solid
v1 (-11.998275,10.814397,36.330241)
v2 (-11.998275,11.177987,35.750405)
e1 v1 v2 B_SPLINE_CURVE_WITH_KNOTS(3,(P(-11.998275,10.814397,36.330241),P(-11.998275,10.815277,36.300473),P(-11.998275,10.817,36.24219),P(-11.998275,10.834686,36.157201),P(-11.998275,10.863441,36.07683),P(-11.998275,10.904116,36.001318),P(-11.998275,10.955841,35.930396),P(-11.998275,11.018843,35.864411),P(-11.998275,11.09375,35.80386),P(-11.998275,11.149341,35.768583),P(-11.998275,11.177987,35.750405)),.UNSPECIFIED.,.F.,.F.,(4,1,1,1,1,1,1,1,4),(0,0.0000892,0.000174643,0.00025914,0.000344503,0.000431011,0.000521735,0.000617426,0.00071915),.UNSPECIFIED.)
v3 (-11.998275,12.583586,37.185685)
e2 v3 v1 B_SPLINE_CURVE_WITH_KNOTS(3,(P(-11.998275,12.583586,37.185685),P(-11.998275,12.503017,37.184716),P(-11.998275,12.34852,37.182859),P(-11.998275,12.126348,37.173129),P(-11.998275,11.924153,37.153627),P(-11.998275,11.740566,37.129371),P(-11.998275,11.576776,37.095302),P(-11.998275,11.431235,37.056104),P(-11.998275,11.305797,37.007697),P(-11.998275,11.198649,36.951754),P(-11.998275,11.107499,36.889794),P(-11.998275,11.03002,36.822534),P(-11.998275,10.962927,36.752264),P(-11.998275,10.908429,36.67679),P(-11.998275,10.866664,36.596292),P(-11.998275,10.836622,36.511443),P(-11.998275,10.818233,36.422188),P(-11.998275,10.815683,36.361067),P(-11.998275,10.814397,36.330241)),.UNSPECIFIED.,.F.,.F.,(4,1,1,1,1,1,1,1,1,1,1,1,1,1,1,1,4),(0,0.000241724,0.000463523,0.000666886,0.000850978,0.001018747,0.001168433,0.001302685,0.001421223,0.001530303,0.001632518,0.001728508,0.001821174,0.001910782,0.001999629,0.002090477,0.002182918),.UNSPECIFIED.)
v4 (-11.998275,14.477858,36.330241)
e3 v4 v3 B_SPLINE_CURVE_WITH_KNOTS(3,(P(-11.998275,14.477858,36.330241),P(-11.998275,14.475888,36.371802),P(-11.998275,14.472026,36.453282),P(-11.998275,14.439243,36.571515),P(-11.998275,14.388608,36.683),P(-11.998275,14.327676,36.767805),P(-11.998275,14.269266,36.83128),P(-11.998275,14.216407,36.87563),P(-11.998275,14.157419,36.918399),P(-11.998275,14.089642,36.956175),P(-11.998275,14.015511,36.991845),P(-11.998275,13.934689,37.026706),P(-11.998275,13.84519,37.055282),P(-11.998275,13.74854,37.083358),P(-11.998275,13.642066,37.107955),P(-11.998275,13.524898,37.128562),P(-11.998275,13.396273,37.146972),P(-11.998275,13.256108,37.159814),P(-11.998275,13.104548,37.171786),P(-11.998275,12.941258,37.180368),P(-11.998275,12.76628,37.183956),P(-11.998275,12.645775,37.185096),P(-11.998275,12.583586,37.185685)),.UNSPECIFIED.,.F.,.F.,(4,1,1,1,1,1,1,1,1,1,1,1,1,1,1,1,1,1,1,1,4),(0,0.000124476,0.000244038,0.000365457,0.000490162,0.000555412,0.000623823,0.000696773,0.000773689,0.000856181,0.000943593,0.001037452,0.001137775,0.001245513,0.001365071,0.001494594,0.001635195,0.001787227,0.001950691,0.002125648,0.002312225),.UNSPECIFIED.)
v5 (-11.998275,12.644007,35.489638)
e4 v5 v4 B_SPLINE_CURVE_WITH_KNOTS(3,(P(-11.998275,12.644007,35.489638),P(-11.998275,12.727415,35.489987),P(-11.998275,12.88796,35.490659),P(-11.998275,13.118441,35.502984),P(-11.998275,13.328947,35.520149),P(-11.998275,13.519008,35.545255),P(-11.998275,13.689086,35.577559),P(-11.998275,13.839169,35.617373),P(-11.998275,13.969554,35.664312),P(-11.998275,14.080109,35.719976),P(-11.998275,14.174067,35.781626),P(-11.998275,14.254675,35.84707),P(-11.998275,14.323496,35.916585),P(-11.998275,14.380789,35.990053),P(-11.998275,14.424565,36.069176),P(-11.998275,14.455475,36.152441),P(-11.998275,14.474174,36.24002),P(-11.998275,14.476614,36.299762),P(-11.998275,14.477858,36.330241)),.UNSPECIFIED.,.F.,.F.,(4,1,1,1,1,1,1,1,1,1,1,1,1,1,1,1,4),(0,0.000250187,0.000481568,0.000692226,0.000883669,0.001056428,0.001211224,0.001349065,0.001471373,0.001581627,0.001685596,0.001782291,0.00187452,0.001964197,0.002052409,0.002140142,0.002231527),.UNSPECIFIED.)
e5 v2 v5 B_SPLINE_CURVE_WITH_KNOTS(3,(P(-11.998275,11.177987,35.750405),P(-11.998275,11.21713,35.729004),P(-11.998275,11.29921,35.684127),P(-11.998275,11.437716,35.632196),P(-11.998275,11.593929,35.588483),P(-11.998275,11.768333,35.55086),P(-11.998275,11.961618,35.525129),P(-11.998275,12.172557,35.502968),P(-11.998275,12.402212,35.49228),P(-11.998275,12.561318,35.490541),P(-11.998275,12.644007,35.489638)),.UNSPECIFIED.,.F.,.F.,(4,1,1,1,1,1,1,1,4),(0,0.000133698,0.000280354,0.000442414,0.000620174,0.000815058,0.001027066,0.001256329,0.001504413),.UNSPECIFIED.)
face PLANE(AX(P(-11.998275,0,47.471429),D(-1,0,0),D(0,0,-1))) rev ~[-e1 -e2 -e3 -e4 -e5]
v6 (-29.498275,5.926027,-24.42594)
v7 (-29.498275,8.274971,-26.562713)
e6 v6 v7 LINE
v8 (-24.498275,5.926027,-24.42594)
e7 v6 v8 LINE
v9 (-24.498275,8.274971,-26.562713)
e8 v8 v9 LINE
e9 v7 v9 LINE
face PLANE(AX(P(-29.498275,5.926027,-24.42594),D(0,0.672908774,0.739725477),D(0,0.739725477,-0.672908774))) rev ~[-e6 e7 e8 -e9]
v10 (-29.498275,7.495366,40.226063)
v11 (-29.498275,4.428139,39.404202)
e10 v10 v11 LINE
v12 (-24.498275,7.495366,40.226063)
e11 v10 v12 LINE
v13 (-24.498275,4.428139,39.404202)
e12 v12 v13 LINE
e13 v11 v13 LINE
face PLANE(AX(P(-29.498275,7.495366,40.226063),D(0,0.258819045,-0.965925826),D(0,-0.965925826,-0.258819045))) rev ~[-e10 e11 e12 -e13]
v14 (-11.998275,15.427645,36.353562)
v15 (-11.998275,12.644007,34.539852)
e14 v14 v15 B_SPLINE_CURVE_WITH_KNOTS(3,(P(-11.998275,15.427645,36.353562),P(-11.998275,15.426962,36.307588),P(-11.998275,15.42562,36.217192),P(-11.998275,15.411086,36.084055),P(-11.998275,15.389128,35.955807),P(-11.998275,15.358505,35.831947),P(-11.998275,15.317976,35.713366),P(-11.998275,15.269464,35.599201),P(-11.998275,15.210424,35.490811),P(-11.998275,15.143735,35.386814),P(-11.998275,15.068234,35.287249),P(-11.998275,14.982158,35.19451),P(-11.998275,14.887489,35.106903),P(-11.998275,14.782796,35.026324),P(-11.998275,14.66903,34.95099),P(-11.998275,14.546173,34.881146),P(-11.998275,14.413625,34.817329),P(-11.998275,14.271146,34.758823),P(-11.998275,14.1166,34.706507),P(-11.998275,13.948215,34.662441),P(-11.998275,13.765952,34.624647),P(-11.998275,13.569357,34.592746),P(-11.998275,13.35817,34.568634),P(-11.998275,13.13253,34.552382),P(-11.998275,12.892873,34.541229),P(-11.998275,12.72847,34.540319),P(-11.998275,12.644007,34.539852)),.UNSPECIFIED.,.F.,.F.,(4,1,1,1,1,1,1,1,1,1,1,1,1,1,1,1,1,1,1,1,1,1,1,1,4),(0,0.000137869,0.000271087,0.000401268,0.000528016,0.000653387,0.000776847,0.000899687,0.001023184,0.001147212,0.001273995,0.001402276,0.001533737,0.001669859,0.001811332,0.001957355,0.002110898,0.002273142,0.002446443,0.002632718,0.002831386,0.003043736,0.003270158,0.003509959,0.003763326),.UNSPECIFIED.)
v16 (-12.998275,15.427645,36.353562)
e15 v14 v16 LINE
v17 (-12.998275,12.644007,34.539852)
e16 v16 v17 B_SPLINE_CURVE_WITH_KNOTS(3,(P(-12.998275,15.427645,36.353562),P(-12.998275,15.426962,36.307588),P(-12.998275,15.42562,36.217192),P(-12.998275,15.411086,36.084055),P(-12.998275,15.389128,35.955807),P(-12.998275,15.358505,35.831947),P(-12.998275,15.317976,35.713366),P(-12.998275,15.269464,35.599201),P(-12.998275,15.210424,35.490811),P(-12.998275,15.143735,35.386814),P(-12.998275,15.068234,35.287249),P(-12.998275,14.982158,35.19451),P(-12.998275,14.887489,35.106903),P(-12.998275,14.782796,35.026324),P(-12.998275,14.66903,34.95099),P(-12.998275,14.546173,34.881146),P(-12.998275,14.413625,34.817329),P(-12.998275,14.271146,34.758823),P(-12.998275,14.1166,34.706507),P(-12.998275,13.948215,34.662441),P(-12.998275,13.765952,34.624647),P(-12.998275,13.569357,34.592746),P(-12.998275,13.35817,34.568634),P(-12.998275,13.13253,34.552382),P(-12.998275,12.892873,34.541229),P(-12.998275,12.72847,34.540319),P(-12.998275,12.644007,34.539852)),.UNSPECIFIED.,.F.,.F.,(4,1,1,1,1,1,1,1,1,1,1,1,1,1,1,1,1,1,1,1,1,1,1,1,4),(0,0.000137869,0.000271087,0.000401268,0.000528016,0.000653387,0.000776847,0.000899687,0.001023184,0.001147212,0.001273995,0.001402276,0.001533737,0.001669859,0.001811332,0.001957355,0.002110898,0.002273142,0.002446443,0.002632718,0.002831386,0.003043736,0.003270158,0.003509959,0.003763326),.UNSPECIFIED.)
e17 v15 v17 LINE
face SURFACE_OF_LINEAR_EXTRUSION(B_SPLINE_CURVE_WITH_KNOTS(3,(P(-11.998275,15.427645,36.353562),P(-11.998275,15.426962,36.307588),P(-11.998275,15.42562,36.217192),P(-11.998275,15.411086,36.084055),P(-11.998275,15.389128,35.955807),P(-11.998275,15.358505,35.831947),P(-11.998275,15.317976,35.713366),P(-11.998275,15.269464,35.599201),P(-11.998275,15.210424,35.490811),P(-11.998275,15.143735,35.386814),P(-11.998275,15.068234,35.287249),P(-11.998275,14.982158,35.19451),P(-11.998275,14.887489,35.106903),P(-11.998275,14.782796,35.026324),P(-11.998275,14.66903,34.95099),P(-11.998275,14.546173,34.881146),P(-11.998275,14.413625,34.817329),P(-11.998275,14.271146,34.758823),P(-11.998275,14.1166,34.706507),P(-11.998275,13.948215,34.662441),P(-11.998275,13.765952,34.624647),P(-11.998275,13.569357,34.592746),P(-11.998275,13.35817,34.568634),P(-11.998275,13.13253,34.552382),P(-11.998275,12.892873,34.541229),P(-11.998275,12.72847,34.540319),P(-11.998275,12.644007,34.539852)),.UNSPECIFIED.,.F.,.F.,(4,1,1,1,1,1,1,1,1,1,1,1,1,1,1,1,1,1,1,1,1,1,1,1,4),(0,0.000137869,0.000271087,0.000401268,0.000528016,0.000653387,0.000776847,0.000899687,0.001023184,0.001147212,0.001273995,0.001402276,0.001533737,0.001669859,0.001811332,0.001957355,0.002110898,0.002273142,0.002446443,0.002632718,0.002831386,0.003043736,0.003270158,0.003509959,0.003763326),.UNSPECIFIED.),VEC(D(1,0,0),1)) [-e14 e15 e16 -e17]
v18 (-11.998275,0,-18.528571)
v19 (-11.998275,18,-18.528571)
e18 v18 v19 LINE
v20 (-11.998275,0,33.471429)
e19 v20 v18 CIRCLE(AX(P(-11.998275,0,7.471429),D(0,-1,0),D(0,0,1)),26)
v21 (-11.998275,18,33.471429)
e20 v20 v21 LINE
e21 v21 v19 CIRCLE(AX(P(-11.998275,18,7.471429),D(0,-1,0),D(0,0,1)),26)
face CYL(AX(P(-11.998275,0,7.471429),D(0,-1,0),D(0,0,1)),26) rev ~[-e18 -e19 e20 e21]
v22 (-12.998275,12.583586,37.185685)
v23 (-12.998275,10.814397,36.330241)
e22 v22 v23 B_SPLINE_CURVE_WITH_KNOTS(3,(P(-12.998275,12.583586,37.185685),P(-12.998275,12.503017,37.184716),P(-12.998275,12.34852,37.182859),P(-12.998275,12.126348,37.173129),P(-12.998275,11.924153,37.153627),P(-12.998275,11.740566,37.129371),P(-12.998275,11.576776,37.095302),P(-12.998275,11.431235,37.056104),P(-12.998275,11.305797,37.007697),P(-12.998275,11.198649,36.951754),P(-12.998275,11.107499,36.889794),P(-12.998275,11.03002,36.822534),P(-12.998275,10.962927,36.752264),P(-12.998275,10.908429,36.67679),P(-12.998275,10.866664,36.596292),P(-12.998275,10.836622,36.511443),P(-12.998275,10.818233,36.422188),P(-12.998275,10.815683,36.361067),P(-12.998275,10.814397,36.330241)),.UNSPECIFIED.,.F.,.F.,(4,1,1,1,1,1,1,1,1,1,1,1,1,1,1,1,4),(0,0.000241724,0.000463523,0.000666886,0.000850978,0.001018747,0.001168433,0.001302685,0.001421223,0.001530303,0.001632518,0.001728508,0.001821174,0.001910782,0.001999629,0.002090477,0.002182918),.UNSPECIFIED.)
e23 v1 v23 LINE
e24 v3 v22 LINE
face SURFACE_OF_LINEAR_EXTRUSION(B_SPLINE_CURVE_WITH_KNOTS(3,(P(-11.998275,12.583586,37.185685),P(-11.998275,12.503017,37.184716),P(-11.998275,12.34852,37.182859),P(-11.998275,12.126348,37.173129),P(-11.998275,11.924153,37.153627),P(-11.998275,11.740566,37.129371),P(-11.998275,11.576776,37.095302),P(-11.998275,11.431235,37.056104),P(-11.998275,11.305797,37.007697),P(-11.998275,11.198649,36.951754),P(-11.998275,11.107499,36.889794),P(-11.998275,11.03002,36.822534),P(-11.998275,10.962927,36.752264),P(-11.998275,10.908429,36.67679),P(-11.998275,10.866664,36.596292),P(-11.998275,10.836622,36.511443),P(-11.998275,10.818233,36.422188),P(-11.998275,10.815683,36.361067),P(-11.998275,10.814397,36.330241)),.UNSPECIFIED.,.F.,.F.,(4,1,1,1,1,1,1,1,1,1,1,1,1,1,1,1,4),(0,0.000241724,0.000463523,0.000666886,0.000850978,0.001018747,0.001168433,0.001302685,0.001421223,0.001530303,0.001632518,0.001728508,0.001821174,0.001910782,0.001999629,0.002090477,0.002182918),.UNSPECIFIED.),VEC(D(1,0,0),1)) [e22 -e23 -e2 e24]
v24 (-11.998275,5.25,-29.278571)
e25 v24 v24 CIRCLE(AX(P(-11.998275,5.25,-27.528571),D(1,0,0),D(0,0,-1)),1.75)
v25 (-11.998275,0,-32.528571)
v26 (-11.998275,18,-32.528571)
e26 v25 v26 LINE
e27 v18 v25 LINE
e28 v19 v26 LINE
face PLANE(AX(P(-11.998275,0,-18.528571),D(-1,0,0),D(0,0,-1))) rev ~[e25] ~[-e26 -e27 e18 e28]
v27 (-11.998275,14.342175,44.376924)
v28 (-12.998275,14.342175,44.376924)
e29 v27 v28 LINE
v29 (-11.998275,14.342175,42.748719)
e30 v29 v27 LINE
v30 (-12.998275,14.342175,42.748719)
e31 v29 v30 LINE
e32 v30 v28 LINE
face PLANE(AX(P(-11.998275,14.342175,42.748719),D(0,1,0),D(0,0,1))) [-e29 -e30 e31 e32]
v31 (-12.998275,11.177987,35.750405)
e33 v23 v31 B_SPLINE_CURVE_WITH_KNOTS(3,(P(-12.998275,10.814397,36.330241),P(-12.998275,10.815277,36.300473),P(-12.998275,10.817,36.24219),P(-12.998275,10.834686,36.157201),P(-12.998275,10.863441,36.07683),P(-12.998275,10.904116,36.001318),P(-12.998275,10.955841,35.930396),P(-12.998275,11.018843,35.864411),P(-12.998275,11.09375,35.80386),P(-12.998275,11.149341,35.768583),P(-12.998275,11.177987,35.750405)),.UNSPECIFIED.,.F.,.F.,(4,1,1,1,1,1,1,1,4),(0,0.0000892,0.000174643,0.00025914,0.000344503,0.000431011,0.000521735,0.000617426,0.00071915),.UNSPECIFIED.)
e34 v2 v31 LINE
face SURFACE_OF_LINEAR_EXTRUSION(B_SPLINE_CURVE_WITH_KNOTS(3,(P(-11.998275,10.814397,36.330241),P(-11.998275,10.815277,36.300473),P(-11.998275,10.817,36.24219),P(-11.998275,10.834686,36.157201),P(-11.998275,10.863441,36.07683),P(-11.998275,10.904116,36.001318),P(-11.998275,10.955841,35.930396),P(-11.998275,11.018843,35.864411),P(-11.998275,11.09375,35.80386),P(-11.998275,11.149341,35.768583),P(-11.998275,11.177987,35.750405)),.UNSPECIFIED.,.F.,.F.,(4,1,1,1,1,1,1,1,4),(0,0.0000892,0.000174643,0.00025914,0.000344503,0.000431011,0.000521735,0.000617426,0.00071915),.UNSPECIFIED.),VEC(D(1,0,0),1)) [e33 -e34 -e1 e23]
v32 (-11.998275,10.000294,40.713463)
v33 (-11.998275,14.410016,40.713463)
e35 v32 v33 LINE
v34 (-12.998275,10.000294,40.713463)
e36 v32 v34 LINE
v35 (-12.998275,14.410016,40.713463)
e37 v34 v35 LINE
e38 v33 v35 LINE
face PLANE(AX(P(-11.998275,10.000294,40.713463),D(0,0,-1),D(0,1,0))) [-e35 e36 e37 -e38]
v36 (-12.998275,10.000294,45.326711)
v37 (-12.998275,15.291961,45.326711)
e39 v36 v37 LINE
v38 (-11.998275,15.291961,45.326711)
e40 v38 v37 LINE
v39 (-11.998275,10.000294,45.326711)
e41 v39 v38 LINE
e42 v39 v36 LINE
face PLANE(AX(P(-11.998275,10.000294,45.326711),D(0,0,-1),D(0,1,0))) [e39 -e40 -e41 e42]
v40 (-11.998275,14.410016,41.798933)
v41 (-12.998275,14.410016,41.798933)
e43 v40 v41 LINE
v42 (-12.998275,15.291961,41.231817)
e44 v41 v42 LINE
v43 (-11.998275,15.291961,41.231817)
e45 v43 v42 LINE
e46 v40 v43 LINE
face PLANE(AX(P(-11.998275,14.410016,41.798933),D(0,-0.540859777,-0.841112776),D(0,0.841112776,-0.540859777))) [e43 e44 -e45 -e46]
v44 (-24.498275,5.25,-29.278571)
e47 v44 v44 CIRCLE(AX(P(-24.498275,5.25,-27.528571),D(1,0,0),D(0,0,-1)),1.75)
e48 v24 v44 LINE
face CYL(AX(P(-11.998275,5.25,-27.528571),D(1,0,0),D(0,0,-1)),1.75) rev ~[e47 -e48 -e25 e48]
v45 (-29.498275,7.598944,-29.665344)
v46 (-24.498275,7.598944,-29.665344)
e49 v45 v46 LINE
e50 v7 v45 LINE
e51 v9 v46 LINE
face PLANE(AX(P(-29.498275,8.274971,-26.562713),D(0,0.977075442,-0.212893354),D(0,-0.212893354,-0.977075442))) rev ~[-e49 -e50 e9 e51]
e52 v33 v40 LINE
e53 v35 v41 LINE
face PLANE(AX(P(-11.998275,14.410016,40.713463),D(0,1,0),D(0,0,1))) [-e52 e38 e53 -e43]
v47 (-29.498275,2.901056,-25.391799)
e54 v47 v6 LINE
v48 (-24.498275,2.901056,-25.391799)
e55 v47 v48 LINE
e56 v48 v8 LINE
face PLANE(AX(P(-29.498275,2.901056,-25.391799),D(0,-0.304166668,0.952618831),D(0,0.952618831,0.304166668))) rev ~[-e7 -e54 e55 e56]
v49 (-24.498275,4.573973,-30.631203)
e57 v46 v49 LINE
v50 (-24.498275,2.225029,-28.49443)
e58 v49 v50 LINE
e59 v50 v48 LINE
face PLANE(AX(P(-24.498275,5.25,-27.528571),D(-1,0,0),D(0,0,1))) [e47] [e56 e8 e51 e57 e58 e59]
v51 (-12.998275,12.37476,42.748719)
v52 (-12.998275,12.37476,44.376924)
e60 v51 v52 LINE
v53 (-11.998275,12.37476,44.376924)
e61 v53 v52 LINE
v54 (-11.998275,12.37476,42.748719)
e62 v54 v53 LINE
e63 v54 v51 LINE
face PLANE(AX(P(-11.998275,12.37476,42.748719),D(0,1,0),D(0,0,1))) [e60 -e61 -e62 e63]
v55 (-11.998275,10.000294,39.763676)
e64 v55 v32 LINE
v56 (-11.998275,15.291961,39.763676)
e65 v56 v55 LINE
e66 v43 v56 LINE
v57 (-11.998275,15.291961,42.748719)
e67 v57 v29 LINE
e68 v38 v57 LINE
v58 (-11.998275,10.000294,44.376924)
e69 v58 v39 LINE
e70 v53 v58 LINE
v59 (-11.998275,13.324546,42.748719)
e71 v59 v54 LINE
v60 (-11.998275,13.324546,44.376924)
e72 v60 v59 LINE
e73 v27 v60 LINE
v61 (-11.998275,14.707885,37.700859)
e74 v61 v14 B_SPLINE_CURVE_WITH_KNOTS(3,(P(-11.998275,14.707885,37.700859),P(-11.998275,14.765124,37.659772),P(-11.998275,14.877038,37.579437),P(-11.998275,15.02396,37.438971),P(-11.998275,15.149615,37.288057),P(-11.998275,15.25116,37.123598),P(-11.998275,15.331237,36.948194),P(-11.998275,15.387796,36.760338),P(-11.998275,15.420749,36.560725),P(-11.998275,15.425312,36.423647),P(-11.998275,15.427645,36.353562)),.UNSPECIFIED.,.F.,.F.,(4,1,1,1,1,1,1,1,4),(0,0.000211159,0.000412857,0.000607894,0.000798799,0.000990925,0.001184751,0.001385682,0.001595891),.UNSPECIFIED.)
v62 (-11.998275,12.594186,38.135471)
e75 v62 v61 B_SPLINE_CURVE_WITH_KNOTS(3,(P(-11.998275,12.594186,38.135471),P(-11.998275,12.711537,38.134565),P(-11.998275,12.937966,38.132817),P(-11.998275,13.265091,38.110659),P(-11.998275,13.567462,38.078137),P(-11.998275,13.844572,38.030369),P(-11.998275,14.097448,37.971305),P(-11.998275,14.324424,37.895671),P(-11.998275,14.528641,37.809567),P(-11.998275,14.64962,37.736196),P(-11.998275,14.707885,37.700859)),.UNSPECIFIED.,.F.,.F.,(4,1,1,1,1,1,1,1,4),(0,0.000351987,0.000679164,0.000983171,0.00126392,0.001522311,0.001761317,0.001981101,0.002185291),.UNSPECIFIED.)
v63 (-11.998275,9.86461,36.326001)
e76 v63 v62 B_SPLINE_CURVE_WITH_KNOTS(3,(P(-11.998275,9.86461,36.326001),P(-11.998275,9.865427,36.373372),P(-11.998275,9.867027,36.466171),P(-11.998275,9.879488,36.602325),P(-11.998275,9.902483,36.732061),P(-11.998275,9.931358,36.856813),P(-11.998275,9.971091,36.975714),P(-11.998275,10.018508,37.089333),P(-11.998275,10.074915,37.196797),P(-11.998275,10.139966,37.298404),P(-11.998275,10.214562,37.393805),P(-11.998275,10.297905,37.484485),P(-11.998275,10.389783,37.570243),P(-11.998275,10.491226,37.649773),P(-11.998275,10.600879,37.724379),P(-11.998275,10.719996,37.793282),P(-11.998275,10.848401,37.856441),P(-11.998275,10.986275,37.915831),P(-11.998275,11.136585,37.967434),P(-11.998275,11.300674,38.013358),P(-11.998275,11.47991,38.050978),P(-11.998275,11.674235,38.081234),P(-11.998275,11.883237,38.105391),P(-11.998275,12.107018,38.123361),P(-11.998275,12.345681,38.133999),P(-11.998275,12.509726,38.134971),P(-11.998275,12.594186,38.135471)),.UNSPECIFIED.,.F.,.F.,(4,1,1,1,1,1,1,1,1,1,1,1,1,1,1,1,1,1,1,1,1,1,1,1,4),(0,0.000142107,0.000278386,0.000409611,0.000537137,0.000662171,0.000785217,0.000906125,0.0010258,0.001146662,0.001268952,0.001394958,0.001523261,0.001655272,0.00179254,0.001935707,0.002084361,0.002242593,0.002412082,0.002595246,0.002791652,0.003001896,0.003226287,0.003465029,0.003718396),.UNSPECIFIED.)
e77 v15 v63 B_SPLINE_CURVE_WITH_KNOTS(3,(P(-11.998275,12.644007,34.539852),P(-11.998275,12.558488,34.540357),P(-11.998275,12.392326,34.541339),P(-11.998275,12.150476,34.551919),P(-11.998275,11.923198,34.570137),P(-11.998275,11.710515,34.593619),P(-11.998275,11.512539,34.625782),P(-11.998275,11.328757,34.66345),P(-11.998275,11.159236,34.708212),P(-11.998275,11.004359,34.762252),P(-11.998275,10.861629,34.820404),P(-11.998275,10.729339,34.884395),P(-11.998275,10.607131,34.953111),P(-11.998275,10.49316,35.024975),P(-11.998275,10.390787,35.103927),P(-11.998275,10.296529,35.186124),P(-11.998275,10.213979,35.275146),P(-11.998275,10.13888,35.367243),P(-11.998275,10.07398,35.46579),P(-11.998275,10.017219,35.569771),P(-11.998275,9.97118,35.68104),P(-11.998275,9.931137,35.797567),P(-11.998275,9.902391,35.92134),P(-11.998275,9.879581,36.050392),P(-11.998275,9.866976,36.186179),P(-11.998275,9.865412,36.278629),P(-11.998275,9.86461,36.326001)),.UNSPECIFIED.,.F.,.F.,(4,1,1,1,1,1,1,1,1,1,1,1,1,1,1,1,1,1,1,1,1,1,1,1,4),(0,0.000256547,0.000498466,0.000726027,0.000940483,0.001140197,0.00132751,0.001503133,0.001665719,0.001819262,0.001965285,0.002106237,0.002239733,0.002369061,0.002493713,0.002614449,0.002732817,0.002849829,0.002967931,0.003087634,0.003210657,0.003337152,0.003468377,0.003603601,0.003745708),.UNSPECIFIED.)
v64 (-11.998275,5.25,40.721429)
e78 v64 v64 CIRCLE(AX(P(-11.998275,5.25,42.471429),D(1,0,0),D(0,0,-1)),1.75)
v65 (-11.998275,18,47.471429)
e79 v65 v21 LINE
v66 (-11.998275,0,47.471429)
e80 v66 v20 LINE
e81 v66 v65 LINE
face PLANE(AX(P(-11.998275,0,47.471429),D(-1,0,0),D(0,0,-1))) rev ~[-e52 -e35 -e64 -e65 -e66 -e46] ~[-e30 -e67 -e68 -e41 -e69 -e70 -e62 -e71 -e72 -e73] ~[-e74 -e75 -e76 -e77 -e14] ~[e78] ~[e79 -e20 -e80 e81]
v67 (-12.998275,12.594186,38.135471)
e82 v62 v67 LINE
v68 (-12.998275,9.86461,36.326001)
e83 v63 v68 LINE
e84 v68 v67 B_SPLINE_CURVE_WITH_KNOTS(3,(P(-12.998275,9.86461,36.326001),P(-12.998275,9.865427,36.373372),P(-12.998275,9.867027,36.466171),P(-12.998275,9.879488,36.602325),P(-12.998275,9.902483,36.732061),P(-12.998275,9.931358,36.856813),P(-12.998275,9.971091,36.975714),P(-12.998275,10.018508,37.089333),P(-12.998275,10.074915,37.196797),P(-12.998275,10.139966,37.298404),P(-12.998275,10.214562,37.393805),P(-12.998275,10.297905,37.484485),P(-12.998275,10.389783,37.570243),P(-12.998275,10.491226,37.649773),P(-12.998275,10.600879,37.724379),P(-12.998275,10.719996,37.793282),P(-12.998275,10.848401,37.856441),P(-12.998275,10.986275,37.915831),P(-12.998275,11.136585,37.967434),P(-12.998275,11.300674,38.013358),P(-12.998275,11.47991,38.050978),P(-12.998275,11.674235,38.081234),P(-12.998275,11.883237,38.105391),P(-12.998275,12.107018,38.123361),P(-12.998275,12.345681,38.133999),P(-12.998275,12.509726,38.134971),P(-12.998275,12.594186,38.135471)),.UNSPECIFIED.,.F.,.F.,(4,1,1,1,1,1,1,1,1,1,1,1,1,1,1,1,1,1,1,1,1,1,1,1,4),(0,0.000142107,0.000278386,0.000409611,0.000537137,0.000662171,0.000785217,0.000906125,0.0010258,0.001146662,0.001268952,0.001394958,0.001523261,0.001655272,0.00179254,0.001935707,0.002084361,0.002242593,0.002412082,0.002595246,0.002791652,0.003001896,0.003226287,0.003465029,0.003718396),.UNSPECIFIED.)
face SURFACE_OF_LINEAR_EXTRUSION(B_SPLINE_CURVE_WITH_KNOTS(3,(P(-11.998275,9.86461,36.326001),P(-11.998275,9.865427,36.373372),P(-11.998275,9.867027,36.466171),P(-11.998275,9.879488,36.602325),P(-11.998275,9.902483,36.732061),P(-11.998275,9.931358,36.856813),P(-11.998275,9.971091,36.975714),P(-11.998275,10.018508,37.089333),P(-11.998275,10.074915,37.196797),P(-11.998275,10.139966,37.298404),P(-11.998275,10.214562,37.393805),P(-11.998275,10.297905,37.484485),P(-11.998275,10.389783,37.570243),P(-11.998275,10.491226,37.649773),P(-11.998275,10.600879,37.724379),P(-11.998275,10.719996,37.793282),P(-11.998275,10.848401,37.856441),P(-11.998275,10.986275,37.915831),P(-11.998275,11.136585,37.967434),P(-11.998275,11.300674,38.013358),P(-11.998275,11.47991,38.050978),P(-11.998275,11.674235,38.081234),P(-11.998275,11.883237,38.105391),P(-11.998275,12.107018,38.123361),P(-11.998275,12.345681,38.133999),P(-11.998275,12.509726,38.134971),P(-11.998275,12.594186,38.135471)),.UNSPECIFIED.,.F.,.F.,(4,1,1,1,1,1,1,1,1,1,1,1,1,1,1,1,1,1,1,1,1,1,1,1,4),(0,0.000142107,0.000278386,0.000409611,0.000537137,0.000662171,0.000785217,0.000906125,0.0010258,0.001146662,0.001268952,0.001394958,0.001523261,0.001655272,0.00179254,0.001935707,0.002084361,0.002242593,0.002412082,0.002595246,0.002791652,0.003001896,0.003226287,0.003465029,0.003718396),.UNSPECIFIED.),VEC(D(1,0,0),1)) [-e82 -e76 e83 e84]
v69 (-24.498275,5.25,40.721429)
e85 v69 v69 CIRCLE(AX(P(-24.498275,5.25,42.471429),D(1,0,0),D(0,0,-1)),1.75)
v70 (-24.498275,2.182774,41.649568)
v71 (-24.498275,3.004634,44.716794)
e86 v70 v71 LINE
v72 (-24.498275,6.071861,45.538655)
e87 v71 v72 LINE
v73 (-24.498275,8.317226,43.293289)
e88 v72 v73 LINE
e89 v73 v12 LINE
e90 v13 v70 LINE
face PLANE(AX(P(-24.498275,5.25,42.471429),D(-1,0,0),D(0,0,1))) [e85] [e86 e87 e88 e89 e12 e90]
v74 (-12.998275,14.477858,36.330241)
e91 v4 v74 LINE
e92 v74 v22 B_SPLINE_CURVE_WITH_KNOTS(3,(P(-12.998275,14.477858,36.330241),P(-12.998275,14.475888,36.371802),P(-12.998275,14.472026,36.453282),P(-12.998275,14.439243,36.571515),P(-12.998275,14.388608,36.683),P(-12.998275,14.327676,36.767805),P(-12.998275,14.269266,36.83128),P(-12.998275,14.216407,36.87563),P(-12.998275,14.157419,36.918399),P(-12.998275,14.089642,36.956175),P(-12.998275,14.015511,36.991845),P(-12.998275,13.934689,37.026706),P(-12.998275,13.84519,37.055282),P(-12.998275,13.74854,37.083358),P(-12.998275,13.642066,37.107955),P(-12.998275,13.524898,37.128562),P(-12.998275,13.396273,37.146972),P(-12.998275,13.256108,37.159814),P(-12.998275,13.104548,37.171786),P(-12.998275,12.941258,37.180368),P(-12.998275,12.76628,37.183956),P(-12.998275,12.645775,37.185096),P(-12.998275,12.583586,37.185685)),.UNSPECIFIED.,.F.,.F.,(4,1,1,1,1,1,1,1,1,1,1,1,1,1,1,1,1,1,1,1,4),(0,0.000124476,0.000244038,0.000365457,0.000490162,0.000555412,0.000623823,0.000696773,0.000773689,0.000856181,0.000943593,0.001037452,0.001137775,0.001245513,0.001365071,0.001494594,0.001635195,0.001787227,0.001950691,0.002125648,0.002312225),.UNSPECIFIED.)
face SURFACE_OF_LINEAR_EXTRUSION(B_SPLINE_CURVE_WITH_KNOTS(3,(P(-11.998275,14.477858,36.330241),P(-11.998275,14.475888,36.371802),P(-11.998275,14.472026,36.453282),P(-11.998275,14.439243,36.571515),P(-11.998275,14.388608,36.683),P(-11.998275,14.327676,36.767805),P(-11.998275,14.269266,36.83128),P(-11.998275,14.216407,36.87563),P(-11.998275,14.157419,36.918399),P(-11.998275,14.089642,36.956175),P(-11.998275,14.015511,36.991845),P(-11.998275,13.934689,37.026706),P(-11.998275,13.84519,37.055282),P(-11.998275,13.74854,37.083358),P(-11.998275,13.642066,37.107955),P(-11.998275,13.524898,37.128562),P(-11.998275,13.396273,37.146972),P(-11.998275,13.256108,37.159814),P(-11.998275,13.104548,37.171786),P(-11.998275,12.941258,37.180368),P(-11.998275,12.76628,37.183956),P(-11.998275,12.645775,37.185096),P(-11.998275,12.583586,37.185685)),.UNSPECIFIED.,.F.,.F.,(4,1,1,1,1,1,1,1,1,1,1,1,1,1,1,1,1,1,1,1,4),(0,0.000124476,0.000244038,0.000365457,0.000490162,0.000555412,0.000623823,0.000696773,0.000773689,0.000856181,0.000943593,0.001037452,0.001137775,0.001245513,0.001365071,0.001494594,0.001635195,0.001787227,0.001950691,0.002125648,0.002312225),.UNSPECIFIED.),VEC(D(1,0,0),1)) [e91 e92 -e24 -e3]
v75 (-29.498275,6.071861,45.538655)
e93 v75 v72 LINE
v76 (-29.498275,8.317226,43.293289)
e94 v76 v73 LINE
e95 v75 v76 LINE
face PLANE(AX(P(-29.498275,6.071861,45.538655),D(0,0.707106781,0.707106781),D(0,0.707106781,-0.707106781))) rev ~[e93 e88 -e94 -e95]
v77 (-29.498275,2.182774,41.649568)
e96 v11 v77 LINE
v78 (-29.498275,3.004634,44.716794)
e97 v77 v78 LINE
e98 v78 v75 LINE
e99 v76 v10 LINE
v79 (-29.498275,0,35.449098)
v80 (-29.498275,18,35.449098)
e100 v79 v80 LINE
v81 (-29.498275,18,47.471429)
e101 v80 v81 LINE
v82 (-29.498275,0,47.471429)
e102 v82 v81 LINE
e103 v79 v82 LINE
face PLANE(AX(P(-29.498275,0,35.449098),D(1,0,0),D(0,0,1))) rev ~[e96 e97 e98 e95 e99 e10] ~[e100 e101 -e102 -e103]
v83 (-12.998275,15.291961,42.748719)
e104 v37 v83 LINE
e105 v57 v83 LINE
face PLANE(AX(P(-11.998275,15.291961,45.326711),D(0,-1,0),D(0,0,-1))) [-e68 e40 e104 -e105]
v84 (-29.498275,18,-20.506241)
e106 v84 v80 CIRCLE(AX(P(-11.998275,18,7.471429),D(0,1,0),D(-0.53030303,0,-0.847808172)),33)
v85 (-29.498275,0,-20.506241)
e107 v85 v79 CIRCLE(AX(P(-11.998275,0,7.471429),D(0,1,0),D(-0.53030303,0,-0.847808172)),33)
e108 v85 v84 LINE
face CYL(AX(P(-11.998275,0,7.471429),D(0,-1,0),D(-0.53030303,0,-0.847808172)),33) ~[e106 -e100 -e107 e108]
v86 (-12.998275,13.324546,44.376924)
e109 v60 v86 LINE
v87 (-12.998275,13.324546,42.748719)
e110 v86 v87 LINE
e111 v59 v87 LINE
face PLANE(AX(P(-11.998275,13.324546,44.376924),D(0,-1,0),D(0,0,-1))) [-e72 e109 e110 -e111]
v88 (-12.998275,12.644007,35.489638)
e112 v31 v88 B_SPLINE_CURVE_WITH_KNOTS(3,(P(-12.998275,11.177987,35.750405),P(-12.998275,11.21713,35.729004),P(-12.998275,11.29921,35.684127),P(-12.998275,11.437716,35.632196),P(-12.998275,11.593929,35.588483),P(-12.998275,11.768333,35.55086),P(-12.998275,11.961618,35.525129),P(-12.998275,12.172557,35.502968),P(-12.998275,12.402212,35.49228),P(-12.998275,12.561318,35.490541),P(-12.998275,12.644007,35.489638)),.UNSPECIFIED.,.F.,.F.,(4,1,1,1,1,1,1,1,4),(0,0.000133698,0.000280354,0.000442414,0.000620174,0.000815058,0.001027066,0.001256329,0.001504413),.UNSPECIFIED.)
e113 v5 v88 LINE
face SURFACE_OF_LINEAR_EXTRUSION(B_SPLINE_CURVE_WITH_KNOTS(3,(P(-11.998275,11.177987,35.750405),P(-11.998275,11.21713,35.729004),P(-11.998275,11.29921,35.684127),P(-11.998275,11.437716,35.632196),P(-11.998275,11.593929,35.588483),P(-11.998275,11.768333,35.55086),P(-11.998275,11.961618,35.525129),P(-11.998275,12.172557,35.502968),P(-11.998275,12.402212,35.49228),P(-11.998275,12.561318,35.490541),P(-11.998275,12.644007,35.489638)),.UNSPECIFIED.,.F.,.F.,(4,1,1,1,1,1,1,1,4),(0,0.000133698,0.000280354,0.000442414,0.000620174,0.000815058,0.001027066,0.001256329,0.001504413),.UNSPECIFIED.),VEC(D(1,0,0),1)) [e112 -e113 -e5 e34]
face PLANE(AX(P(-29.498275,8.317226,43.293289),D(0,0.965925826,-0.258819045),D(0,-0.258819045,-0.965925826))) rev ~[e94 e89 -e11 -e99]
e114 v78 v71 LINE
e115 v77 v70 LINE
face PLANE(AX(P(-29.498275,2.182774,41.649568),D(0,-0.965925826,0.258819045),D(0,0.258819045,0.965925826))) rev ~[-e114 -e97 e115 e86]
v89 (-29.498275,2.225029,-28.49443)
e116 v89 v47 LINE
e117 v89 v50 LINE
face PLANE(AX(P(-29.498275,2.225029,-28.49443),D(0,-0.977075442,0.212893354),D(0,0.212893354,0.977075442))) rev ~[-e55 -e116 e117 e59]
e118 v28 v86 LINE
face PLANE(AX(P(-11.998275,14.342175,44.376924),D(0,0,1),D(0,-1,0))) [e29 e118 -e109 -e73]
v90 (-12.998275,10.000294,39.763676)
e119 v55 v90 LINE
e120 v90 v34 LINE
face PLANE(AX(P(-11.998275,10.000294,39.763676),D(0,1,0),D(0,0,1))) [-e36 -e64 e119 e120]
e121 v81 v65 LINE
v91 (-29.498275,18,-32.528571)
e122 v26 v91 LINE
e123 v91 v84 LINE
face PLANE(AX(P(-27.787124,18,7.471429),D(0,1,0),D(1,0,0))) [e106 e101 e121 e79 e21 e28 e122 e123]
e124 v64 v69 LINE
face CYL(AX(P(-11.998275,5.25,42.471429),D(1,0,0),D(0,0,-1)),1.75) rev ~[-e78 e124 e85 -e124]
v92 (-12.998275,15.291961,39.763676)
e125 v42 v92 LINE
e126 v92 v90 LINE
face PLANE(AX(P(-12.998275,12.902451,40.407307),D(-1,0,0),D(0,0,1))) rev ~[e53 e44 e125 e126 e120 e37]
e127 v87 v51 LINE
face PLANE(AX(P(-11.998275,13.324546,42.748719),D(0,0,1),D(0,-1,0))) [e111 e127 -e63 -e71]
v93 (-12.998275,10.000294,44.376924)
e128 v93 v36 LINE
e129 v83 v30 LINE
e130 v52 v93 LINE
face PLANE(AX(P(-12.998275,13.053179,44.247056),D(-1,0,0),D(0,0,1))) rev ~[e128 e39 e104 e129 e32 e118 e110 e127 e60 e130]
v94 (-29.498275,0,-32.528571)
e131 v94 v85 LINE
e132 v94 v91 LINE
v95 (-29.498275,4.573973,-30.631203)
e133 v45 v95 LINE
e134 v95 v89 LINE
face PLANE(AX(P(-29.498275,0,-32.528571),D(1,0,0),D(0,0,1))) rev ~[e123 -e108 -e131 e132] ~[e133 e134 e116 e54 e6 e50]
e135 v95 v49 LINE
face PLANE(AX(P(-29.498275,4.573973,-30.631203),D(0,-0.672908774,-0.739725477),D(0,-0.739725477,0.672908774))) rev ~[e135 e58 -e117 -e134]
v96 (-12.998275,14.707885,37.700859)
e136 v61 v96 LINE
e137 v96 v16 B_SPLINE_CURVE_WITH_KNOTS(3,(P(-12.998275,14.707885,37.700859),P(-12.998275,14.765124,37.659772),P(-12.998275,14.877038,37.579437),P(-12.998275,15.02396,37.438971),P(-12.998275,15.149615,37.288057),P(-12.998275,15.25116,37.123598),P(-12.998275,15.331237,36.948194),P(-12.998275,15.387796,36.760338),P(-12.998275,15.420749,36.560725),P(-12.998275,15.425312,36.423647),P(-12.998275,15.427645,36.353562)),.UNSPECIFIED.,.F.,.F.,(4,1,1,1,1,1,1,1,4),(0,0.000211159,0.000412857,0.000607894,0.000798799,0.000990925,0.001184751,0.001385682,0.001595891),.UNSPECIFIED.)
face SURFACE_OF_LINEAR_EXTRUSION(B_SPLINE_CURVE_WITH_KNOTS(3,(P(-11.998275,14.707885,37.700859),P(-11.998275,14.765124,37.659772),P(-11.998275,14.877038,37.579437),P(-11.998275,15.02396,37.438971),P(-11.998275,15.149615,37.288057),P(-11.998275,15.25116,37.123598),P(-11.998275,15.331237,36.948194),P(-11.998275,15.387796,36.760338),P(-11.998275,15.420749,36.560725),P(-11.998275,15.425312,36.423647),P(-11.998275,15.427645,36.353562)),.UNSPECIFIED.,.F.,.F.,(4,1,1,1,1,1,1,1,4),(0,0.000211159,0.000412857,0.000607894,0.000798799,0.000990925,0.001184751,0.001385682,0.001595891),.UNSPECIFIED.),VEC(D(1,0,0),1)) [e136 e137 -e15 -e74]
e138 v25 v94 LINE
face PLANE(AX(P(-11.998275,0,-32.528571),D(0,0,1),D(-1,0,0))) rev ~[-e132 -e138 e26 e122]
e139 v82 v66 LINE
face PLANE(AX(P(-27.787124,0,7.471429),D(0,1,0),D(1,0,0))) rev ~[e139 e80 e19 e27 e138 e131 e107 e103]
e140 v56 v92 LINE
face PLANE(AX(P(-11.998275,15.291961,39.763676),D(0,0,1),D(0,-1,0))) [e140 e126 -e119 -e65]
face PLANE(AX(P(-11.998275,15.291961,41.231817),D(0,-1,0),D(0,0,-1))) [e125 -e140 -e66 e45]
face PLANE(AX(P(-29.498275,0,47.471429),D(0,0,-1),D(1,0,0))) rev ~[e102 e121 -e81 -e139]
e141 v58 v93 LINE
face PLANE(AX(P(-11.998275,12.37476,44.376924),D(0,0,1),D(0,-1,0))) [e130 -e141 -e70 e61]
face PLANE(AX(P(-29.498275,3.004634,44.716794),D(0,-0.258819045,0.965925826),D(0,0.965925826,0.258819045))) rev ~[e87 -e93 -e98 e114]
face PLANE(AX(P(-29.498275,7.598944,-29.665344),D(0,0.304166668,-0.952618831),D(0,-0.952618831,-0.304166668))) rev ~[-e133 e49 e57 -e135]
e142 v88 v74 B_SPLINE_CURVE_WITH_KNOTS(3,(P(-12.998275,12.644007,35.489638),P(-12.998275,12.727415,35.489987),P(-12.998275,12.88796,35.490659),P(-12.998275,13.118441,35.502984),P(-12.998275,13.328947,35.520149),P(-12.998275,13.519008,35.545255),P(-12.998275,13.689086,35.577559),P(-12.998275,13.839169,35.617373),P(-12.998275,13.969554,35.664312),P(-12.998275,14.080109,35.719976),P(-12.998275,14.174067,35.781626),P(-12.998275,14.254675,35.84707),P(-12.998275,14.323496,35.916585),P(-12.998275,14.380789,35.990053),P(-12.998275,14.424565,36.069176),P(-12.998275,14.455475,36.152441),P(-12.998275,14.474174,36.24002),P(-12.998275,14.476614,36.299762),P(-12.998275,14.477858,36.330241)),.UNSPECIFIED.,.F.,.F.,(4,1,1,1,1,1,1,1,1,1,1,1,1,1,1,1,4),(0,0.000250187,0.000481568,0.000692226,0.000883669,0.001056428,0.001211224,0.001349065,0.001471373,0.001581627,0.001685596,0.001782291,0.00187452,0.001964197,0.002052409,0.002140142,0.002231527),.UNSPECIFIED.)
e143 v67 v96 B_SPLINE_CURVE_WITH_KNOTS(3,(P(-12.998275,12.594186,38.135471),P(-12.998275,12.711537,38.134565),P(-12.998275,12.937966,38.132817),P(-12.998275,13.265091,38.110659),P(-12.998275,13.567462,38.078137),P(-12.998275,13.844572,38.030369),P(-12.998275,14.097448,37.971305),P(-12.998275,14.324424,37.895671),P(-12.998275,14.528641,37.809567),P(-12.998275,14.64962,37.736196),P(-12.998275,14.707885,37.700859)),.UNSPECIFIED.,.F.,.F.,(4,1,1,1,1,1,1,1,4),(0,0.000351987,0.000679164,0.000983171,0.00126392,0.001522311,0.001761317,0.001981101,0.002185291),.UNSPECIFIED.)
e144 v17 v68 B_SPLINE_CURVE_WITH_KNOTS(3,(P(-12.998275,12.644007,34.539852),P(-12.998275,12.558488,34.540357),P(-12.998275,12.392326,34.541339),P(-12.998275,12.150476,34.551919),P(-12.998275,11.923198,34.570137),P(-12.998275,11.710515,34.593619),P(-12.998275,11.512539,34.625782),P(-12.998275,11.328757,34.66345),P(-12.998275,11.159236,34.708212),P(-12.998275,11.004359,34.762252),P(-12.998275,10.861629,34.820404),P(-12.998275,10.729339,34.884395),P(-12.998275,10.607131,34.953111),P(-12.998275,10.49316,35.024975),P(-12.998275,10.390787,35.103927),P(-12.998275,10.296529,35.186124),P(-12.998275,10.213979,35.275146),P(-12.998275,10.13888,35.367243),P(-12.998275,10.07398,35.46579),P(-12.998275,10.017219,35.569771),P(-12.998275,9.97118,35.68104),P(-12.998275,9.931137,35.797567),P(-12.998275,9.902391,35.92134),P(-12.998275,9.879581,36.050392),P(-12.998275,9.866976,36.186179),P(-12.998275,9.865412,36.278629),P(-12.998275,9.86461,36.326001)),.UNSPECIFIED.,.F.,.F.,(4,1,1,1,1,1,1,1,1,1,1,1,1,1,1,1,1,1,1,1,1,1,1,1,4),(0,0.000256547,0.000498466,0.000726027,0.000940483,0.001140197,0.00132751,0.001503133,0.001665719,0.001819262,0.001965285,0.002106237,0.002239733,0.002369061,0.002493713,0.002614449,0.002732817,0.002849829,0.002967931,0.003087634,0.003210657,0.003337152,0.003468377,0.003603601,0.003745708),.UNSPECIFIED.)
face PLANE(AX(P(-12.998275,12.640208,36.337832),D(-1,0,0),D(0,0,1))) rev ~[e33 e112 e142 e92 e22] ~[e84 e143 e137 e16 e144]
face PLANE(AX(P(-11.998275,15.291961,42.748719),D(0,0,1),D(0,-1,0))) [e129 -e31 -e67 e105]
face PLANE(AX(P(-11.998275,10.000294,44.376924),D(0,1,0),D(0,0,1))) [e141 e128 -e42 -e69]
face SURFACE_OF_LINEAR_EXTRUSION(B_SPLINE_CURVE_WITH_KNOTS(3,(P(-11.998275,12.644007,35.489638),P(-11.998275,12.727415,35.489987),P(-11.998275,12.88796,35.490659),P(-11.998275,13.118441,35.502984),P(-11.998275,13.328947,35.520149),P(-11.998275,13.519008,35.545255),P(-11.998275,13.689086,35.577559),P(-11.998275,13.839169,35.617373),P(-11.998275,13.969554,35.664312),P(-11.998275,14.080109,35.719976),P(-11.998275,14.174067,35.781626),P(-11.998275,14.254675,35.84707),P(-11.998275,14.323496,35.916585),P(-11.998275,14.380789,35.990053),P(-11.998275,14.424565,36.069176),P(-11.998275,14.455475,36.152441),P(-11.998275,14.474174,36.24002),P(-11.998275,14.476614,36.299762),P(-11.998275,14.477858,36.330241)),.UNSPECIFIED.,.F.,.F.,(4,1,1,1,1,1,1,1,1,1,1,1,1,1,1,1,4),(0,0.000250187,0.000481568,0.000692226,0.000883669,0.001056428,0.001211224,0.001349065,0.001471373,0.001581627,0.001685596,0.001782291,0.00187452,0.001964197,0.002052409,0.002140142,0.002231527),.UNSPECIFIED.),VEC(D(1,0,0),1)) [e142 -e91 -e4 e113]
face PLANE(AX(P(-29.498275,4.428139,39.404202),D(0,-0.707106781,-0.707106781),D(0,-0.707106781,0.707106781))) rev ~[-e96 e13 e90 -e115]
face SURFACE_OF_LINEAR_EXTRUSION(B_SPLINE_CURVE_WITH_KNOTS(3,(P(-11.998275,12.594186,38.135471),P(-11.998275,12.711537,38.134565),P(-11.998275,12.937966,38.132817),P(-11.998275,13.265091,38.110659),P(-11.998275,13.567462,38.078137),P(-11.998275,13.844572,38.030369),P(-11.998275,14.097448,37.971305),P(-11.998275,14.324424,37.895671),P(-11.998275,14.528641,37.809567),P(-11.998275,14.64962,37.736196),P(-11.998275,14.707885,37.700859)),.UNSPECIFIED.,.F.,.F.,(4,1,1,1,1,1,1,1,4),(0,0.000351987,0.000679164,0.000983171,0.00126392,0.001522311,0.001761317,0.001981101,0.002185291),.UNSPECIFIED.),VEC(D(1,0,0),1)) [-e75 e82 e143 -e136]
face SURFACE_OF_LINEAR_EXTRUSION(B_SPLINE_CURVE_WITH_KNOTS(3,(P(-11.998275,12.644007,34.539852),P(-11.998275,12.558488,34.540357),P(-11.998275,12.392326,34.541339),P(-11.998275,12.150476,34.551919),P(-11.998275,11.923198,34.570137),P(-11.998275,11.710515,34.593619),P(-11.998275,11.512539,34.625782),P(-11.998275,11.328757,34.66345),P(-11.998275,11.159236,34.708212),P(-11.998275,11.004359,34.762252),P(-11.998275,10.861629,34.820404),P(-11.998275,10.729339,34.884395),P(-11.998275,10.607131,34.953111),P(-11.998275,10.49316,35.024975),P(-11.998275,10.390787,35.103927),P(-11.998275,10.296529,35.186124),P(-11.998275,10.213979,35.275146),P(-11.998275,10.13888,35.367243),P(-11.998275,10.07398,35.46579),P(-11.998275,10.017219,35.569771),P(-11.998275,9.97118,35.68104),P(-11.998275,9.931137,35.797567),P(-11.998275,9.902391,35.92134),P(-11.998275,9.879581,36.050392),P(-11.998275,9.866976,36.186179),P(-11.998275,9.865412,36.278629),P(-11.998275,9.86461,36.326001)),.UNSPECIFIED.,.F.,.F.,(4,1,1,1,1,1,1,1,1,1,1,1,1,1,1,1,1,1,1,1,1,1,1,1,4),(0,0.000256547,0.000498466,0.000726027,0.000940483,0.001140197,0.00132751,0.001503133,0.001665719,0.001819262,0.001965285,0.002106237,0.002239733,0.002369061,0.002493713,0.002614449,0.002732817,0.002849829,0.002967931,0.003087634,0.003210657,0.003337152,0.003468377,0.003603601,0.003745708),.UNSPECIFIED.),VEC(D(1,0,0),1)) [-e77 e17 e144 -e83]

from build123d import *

# Parameters (mm, degrees)
BOSS_EXTRUDE1_DEPTH = 18
SKETCH2_R           = 1.75
CUT_EXTRUDE1_DEPTH  = 34
CUT_EXTRUDE2_DEPTH  = 1
CUT_EXTRUDE3_DEPTH  = 5


with BuildPart() as part:
    # Sketch1 → Boss-Extrude1 (new body)
    with BuildSketch(Plane(origin=(0, 0, 0), x_dir=(1, 0, 0), z_dir=(0, 1, 0))):
        with BuildLine():
            Line((-11.998275301, 32.528571429), (-29.498275301, 32.528571429))
            Line((-29.498275301, 32.528571429), (-29.498275301, 20.506241096))
            ThreePointArc((-29.498275301, 20.506241096), (-44.998275301, -7.471428571), (-29.498275301, -35.449098239))
            Line((-29.498275301, -35.449098239), (-29.498275301, -47.471428571))
            Line((-29.498275301, -47.471428571), (-11.998275301, -47.471428571))
            Line((-11.998275301, -47.471428571), (-11.998275301, -33.471428571))
            ThreePointArc((-11.998275301, -33.471428571), (-37.998275301, -7.471428571), (-11.998275301, 18.528571429))
            Line((-11.998275301, 18.528571429), (-11.998275301, 32.528571429))
        make_face()
    extrude(amount=BOSS_EXTRUDE1_DEPTH)

    # Sketch2 → Cut-Extrude1 (cut, through all)
    with BuildSketch(Plane(origin=(-11.998275301, 0, 0), x_dir=(0, 0, -1), z_dir=(1, 0, 0))):
        with Locations((-42.471428571, 5.25)):
            Circle(SKETCH2_R)
        with Locations((27.528571429, 5.25)):
            Circle(SKETCH2_R)
    extrude(amount=-CUT_EXTRUDE1_DEPTH, mode=Mode.SUBTRACT)

    # Sketch3 → Cut-Extrude2 (cut)
    with BuildSketch(Plane(origin=(-11.998275301, 0, 0), x_dir=(0, 0, -1), z_dir=(1, 0, 0))):
        Polygon((-45.326710591, 15.291960871), (-42.748719138, 15.291960871), (-42.748719138, 14.342174546), (-44.376924266, 14.342174546), (-44.376924266, 13.324546341), (-42.748719138, 13.324546341), (-42.748719138, 12.374760016), (-44.376924266, 12.374760016), (-44.376924266, 10.000294204), (-45.326710591, 10.000294204), align=None)
        Polygon((-41.231817095, 15.291960871), (-39.763676403, 15.291960871), (-39.763676403, 10.000294204), (-40.713462728, 10.000294204), (-40.713462728, 14.410016426), (-41.798932813, 14.410016426), align=None)
        with BuildLine():
            add(Edge.make_bspline(
                [(-36.353561886, 15.427644632), (-36.307588286, 15.42696214), (-36.217191905, 15.425620181), (-36.084055051, 15.411085663), (-35.955807451, 15.389128061), (-35.831947383, 15.358504863), (-35.713366407, 15.317976152), (-35.599201463, 15.269463978), (-35.490811447, 15.21042378), (-35.386814038, 15.143734844), (-35.287249296, 15.068233514), (-35.194510191, 14.9821581), (-35.106903109, 14.8874892), (-35.026324422, 14.78279559), (-34.950989689, 14.66902957), (-34.881146448, 14.546173101), (-34.817329365, 14.413624881), (-34.758823205, 14.271145717), (-34.706506811, 14.116599909), (-34.662440778, 13.948214748), (-34.624646781, 13.765951781), (-34.592745981, 13.569357327), (-34.568634132, 13.358170067), (-34.55238226, 13.132530302), (-34.541229457, 12.892873032), (-34.540319242, 12.728470114), (-34.539851616, 12.644007479)],
                knots=[0, 0, 0, 0, 0.000137869, 0.000271087, 0.000401268, 0.000528016, 0.000653387, 0.000776847, 0.000899687, 0.001023184, 0.001147212, 0.001273995, 0.001402276, 0.001533737, 0.001669859, 0.001811332, 0.001957355, 0.002110898, 0.002273142, 0.002446443, 0.002632718, 0.002831386, 0.003043736, 0.003270158, 0.003509959, 0.003763326, 0.003763326, 0.003763326, 0.003763326], degree=3))
            add(Edge.make_bspline(
                [(-34.539851616, 12.644007479), (-34.540356994, 12.558488121), (-34.541338933, 12.392325544), (-34.551918635, 12.150476247), (-34.570137381, 11.923198201), (-34.593619017, 11.710514921), (-34.625782434, 11.51253872), (-34.663450266, 11.328756974), (-34.708211869, 11.159236299), (-34.762251547, 11.004358661), (-34.820403569, 10.861629272), (-34.884395218, 10.72933949), (-34.95311113, 10.607131), (-35.024975169, 10.49316012), (-35.103927185, 10.390786655), (-35.186124362, 10.296529371), (-35.275145712, 10.213978649), (-35.36724309, 10.138880195), (-35.465790398, 10.07398006), (-35.569771342, 10.017219472), (-35.681039722, 9.971179894), (-35.797567305, 9.931137128), (-35.921340327, 9.902390743), (-36.050392052, 9.87958143), (-36.186179447, 9.866975605), (-36.278628975, 9.86541177), (-36.326001122, 9.864610443)],
                knots=[0, 0, 0, 0, 0.000256547, 0.000498466, 0.000726027, 0.000940483, 0.001140197, 0.00132751, 0.001503133, 0.001665719, 0.001819262, 0.001965285, 0.002106237, 0.002239733, 0.002369061, 0.002493713, 0.002614449, 0.002732817, 0.002849829, 0.002967931, 0.003087634, 0.003210657, 0.003337152, 0.003468377, 0.003603601, 0.003745708, 0.003745708, 0.003745708, 0.003745708], degree=3))
            add(Edge.make_bspline(
                [(-36.326001122, 9.864610443), (-36.373371991, 9.865427227), (-36.466170825, 9.867027294), (-36.602325403, 9.879487701), (-36.732061037, 9.902483144), (-36.856813303, 9.931357822), (-36.975713944, 9.971091296), (-37.089333085, 10.018508345), (-37.196797094, 10.074914775), (-37.298403521, 10.139966121), (-37.393805453, 10.214562109), (-37.484485436, 10.297904852), (-37.57024288, 10.389783097), (-37.649773202, 10.491225956), (-37.724378878, 10.600879379), (-37.793281889, 10.719995555), (-37.856440827, 10.848401053), (-37.915831314, 10.986274857), (-37.96743413, 11.136585233), (-38.01335824, 11.300674432), (-38.050978063, 11.479910274), (-38.081234442, 11.674235178), (-38.105391117, 11.883237456), (-38.123360907, 12.10701799), (-38.133999374, 12.34568101), (-38.134971016, 12.509725991), (-38.135471275, 12.594186098)],
                knots=[0, 0, 0, 0, 0.000142107, 0.000278386, 0.000409611, 0.000537137, 0.000662171, 0.000785217, 0.000906125, 0.0010258, 0.001146662, 0.001268952, 0.001394958, 0.001523261, 0.001655272, 0.00179254, 0.001935707, 0.002084361, 0.002242593, 0.002412082, 0.002595246, 0.002791652, 0.003001896, 0.003226287, 0.003465029, 0.003718396, 0.003718396, 0.003718396, 0.003718396], degree=3))
            add(Edge.make_bspline(
                [(-38.135471275, 12.594186098), (-38.134565103, 12.711536767), (-38.132816632, 12.937966394), (-38.11065873, 13.265091372), (-38.078136549, 13.567461747), (-38.03036917, 13.844571729), (-37.971305466, 14.097447652), (-37.895671318, 14.324423703), (-37.809567342, 14.528640603), (-37.736195692, 14.649619924), (-37.700859229, 14.707884682)],
                knots=[0, 0, 0, 0, 0.000351987, 0.000679164, 0.000983171, 0.00126392, 0.001522311, 0.001761317, 0.001981101, 0.002185291, 0.002185291, 0.002185291, 0.002185291], degree=3))
            add(Edge.make_bspline(
                [(-37.700859229, 14.707884682), (-37.659771672, 14.765123962), (-37.579437402, 14.877038034), (-37.438970685, 15.023960291), (-37.288057486, 15.149615399), (-37.123598134, 15.251159672), (-36.948193623, 15.331237493), (-36.760338015, 15.387795557), (-36.560725029, 15.42074892), (-36.423647462, 15.425311736), (-36.353561886, 15.427644632)],
                knots=[0, 0, 0, 0, 0.000211159, 0.000412857, 0.000607894, 0.000798799, 0.000990925, 0.001184751, 0.001385682, 0.001595891, 0.001595891, 0.001595891, 0.001595891], degree=3))
        make_face()
        with BuildLine():
            add(Edge.make_bspline(
                [(-36.33024124, 14.477858307), (-36.371801756, 14.475888421), (-36.453282428, 14.472026399), (-36.571514767, 14.439243282), (-36.68300048, 14.38860799), (-36.767804684, 14.327676333), (-36.831279787, 14.269266033), (-36.875630297, 14.216406611), (-36.918399374, 14.157419305), (-36.956175176, 14.089642323), (-36.991845394, 14.01551097), (-37.026705949, 13.934688735), (-37.055282451, 13.84519045), (-37.083358105, 13.74854028), (-37.107954999, 13.642066107), (-37.128561803, 13.524897621), (-37.146972171, 13.396272864), (-37.159813623, 13.256107588), (-37.171785709, 13.10454844), (-37.180367868, 12.941257804), (-37.183955853, 12.766279733), (-37.185096364, 12.645774932), (-37.18568495, 12.583585804)],
                knots=[0, 0, 0, 0, 0.000124476, 0.000244038, 0.000365457, 0.000490162, 0.000555412, 0.000623823, 0.000696773, 0.000773689, 0.000856181, 0.000943593, 0.001037452, 0.001137775, 0.001245513, 0.001365071, 0.001494594, 0.001635195, 0.001787227, 0.001950691, 0.002125648, 0.002312225, 0.002312225, 0.002312225, 0.002312225], degree=3))
            add(Edge.make_bspline(
                [(-37.18568495, 12.583585804), (-37.184716209, 12.503016782), (-37.182858577, 12.348519708), (-37.173129169, 12.126347537), (-37.153627378, 11.924152971), (-37.129371087, 11.740565663), (-37.095302136, 11.576776226), (-37.056103602, 11.43123506), (-37.007696898, 11.305797462), (-36.951753625, 11.198649322), (-36.88979393, 11.107498621), (-36.822533954, 11.030020115), (-36.752263661, 10.962927384), (-36.676789684, 10.908428786), (-36.596292083, 10.866663572), (-36.511442865, 10.83662237), (-36.422188108, 10.818232899), (-36.361067371, 10.81568287), (-36.33024124, 10.814396768)],
                knots=[0, 0, 0, 0, 0.000241724, 0.000463523, 0.000666886, 0.000850978, 0.001018747, 0.001168433, 0.001302685, 0.001421223, 0.001530303, 0.001632518, 0.001728508, 0.001821174, 0.001910782, 0.001999629, 0.002090477, 0.002182918, 0.002182918, 0.002182918, 0.002182918], degree=3))
            add(Edge.make_bspline(
                [(-36.33024124, 10.814396768), (-36.300472964, 10.815276815), (-36.242190381, 10.816999837), (-36.157201323, 10.834686425), (-36.07682963, 10.863440976), (-36.00131797, 10.904116306), (-35.930396249, 10.955841213), (-35.864411087, 11.018842997), (-35.803860132, 11.093749638), (-35.768582871, 11.149341444), (-35.750405169, 11.177986846)],
                knots=[0, 0, 0, 0, 8.92e-05, 0.000174643, 0.00025914, 0.000344503, 0.000431011, 0.000521735, 0.000617426, 0.00071915, 0.00071915, 0.00071915, 0.00071915], degree=3))
            add(Edge.make_bspline(
                [(-35.750405169, 11.177986846), (-35.729003986, 11.217129871), (-35.684127441, 11.299209621), (-35.632196225, 11.437716138), (-35.588483423, 11.593928598), (-35.550860453, 11.768333148), (-35.525128636, 11.961617661), (-35.502968427, 12.172556504), (-35.492280008, 12.402211879), (-35.490541478, 12.561317951), (-35.489637941, 12.644007479)],
                knots=[0, 0, 0, 0, 0.000133698, 0.000280354, 0.000442414, 0.000620174, 0.000815058, 0.001027066, 0.001256329, 0.001504413, 0.001504413, 0.001504413, 0.001504413], degree=3))
            add(Edge.make_bspline(
                [(-35.489637941, 12.644007479), (-35.489986958, 12.727414792), (-35.490658756, 12.88795963), (-35.502984298, 13.118440632), (-35.520148556, 13.328946776), (-35.545254912, 13.519008087), (-35.577558802, 13.68908595), (-35.617373468, 13.839169248), (-35.664311998, 13.969553765), (-35.719975501, 14.080109491), (-35.781626288, 14.174066693), (-35.847070481, 14.254674684), (-35.916584804, 14.323495752), (-35.990053007, 14.380788885), (-36.069175537, 14.424565135), (-36.152441049, 14.45547479), (-36.240020246, 14.474174094), (-36.299761657, 14.47661366), (-36.33024124, 14.477858307)],
                knots=[0, 0, 0, 0, 0.000250187, 0.000481568, 0.000692226, 0.000883669, 0.001056428, 0.001211224, 0.001349065, 0.001471373, 0.001581627, 0.001685596, 0.001782291, 0.00187452, 0.001964197, 0.002052409, 0.002140142, 0.002231527, 0.002231527, 0.002231527, 0.002231527], degree=3))
        make_face(mode=Mode.SUBTRACT)
    extrude(amount=-CUT_EXTRUDE2_DEPTH, mode=Mode.SUBTRACT)

    # Sketch4 → Cut-Extrude3 (cut)
    with BuildSketch(Plane.ZY.offset(29.498275301)):
        Polygon((-25.391799088, 2.901056132), (-24.425940196, 5.926027195), (-26.562712537, 8.274971063), (-29.665343769, 7.598943868), (-30.631202661, 4.573972805), (-28.49443032, 2.225028937), align=None)
        Polygon((44.716794169, 3.004634402), (45.538655018, 6.071860849), (43.293289421, 8.317226447), (40.226062974, 7.495365598), (39.404202124, 4.428139151), (41.649567722, 2.182773553), align=None)
    extrude(amount=-CUT_EXTRUDE3_DEPTH, mode=Mode.SUBTRACT)


solid = part.part
